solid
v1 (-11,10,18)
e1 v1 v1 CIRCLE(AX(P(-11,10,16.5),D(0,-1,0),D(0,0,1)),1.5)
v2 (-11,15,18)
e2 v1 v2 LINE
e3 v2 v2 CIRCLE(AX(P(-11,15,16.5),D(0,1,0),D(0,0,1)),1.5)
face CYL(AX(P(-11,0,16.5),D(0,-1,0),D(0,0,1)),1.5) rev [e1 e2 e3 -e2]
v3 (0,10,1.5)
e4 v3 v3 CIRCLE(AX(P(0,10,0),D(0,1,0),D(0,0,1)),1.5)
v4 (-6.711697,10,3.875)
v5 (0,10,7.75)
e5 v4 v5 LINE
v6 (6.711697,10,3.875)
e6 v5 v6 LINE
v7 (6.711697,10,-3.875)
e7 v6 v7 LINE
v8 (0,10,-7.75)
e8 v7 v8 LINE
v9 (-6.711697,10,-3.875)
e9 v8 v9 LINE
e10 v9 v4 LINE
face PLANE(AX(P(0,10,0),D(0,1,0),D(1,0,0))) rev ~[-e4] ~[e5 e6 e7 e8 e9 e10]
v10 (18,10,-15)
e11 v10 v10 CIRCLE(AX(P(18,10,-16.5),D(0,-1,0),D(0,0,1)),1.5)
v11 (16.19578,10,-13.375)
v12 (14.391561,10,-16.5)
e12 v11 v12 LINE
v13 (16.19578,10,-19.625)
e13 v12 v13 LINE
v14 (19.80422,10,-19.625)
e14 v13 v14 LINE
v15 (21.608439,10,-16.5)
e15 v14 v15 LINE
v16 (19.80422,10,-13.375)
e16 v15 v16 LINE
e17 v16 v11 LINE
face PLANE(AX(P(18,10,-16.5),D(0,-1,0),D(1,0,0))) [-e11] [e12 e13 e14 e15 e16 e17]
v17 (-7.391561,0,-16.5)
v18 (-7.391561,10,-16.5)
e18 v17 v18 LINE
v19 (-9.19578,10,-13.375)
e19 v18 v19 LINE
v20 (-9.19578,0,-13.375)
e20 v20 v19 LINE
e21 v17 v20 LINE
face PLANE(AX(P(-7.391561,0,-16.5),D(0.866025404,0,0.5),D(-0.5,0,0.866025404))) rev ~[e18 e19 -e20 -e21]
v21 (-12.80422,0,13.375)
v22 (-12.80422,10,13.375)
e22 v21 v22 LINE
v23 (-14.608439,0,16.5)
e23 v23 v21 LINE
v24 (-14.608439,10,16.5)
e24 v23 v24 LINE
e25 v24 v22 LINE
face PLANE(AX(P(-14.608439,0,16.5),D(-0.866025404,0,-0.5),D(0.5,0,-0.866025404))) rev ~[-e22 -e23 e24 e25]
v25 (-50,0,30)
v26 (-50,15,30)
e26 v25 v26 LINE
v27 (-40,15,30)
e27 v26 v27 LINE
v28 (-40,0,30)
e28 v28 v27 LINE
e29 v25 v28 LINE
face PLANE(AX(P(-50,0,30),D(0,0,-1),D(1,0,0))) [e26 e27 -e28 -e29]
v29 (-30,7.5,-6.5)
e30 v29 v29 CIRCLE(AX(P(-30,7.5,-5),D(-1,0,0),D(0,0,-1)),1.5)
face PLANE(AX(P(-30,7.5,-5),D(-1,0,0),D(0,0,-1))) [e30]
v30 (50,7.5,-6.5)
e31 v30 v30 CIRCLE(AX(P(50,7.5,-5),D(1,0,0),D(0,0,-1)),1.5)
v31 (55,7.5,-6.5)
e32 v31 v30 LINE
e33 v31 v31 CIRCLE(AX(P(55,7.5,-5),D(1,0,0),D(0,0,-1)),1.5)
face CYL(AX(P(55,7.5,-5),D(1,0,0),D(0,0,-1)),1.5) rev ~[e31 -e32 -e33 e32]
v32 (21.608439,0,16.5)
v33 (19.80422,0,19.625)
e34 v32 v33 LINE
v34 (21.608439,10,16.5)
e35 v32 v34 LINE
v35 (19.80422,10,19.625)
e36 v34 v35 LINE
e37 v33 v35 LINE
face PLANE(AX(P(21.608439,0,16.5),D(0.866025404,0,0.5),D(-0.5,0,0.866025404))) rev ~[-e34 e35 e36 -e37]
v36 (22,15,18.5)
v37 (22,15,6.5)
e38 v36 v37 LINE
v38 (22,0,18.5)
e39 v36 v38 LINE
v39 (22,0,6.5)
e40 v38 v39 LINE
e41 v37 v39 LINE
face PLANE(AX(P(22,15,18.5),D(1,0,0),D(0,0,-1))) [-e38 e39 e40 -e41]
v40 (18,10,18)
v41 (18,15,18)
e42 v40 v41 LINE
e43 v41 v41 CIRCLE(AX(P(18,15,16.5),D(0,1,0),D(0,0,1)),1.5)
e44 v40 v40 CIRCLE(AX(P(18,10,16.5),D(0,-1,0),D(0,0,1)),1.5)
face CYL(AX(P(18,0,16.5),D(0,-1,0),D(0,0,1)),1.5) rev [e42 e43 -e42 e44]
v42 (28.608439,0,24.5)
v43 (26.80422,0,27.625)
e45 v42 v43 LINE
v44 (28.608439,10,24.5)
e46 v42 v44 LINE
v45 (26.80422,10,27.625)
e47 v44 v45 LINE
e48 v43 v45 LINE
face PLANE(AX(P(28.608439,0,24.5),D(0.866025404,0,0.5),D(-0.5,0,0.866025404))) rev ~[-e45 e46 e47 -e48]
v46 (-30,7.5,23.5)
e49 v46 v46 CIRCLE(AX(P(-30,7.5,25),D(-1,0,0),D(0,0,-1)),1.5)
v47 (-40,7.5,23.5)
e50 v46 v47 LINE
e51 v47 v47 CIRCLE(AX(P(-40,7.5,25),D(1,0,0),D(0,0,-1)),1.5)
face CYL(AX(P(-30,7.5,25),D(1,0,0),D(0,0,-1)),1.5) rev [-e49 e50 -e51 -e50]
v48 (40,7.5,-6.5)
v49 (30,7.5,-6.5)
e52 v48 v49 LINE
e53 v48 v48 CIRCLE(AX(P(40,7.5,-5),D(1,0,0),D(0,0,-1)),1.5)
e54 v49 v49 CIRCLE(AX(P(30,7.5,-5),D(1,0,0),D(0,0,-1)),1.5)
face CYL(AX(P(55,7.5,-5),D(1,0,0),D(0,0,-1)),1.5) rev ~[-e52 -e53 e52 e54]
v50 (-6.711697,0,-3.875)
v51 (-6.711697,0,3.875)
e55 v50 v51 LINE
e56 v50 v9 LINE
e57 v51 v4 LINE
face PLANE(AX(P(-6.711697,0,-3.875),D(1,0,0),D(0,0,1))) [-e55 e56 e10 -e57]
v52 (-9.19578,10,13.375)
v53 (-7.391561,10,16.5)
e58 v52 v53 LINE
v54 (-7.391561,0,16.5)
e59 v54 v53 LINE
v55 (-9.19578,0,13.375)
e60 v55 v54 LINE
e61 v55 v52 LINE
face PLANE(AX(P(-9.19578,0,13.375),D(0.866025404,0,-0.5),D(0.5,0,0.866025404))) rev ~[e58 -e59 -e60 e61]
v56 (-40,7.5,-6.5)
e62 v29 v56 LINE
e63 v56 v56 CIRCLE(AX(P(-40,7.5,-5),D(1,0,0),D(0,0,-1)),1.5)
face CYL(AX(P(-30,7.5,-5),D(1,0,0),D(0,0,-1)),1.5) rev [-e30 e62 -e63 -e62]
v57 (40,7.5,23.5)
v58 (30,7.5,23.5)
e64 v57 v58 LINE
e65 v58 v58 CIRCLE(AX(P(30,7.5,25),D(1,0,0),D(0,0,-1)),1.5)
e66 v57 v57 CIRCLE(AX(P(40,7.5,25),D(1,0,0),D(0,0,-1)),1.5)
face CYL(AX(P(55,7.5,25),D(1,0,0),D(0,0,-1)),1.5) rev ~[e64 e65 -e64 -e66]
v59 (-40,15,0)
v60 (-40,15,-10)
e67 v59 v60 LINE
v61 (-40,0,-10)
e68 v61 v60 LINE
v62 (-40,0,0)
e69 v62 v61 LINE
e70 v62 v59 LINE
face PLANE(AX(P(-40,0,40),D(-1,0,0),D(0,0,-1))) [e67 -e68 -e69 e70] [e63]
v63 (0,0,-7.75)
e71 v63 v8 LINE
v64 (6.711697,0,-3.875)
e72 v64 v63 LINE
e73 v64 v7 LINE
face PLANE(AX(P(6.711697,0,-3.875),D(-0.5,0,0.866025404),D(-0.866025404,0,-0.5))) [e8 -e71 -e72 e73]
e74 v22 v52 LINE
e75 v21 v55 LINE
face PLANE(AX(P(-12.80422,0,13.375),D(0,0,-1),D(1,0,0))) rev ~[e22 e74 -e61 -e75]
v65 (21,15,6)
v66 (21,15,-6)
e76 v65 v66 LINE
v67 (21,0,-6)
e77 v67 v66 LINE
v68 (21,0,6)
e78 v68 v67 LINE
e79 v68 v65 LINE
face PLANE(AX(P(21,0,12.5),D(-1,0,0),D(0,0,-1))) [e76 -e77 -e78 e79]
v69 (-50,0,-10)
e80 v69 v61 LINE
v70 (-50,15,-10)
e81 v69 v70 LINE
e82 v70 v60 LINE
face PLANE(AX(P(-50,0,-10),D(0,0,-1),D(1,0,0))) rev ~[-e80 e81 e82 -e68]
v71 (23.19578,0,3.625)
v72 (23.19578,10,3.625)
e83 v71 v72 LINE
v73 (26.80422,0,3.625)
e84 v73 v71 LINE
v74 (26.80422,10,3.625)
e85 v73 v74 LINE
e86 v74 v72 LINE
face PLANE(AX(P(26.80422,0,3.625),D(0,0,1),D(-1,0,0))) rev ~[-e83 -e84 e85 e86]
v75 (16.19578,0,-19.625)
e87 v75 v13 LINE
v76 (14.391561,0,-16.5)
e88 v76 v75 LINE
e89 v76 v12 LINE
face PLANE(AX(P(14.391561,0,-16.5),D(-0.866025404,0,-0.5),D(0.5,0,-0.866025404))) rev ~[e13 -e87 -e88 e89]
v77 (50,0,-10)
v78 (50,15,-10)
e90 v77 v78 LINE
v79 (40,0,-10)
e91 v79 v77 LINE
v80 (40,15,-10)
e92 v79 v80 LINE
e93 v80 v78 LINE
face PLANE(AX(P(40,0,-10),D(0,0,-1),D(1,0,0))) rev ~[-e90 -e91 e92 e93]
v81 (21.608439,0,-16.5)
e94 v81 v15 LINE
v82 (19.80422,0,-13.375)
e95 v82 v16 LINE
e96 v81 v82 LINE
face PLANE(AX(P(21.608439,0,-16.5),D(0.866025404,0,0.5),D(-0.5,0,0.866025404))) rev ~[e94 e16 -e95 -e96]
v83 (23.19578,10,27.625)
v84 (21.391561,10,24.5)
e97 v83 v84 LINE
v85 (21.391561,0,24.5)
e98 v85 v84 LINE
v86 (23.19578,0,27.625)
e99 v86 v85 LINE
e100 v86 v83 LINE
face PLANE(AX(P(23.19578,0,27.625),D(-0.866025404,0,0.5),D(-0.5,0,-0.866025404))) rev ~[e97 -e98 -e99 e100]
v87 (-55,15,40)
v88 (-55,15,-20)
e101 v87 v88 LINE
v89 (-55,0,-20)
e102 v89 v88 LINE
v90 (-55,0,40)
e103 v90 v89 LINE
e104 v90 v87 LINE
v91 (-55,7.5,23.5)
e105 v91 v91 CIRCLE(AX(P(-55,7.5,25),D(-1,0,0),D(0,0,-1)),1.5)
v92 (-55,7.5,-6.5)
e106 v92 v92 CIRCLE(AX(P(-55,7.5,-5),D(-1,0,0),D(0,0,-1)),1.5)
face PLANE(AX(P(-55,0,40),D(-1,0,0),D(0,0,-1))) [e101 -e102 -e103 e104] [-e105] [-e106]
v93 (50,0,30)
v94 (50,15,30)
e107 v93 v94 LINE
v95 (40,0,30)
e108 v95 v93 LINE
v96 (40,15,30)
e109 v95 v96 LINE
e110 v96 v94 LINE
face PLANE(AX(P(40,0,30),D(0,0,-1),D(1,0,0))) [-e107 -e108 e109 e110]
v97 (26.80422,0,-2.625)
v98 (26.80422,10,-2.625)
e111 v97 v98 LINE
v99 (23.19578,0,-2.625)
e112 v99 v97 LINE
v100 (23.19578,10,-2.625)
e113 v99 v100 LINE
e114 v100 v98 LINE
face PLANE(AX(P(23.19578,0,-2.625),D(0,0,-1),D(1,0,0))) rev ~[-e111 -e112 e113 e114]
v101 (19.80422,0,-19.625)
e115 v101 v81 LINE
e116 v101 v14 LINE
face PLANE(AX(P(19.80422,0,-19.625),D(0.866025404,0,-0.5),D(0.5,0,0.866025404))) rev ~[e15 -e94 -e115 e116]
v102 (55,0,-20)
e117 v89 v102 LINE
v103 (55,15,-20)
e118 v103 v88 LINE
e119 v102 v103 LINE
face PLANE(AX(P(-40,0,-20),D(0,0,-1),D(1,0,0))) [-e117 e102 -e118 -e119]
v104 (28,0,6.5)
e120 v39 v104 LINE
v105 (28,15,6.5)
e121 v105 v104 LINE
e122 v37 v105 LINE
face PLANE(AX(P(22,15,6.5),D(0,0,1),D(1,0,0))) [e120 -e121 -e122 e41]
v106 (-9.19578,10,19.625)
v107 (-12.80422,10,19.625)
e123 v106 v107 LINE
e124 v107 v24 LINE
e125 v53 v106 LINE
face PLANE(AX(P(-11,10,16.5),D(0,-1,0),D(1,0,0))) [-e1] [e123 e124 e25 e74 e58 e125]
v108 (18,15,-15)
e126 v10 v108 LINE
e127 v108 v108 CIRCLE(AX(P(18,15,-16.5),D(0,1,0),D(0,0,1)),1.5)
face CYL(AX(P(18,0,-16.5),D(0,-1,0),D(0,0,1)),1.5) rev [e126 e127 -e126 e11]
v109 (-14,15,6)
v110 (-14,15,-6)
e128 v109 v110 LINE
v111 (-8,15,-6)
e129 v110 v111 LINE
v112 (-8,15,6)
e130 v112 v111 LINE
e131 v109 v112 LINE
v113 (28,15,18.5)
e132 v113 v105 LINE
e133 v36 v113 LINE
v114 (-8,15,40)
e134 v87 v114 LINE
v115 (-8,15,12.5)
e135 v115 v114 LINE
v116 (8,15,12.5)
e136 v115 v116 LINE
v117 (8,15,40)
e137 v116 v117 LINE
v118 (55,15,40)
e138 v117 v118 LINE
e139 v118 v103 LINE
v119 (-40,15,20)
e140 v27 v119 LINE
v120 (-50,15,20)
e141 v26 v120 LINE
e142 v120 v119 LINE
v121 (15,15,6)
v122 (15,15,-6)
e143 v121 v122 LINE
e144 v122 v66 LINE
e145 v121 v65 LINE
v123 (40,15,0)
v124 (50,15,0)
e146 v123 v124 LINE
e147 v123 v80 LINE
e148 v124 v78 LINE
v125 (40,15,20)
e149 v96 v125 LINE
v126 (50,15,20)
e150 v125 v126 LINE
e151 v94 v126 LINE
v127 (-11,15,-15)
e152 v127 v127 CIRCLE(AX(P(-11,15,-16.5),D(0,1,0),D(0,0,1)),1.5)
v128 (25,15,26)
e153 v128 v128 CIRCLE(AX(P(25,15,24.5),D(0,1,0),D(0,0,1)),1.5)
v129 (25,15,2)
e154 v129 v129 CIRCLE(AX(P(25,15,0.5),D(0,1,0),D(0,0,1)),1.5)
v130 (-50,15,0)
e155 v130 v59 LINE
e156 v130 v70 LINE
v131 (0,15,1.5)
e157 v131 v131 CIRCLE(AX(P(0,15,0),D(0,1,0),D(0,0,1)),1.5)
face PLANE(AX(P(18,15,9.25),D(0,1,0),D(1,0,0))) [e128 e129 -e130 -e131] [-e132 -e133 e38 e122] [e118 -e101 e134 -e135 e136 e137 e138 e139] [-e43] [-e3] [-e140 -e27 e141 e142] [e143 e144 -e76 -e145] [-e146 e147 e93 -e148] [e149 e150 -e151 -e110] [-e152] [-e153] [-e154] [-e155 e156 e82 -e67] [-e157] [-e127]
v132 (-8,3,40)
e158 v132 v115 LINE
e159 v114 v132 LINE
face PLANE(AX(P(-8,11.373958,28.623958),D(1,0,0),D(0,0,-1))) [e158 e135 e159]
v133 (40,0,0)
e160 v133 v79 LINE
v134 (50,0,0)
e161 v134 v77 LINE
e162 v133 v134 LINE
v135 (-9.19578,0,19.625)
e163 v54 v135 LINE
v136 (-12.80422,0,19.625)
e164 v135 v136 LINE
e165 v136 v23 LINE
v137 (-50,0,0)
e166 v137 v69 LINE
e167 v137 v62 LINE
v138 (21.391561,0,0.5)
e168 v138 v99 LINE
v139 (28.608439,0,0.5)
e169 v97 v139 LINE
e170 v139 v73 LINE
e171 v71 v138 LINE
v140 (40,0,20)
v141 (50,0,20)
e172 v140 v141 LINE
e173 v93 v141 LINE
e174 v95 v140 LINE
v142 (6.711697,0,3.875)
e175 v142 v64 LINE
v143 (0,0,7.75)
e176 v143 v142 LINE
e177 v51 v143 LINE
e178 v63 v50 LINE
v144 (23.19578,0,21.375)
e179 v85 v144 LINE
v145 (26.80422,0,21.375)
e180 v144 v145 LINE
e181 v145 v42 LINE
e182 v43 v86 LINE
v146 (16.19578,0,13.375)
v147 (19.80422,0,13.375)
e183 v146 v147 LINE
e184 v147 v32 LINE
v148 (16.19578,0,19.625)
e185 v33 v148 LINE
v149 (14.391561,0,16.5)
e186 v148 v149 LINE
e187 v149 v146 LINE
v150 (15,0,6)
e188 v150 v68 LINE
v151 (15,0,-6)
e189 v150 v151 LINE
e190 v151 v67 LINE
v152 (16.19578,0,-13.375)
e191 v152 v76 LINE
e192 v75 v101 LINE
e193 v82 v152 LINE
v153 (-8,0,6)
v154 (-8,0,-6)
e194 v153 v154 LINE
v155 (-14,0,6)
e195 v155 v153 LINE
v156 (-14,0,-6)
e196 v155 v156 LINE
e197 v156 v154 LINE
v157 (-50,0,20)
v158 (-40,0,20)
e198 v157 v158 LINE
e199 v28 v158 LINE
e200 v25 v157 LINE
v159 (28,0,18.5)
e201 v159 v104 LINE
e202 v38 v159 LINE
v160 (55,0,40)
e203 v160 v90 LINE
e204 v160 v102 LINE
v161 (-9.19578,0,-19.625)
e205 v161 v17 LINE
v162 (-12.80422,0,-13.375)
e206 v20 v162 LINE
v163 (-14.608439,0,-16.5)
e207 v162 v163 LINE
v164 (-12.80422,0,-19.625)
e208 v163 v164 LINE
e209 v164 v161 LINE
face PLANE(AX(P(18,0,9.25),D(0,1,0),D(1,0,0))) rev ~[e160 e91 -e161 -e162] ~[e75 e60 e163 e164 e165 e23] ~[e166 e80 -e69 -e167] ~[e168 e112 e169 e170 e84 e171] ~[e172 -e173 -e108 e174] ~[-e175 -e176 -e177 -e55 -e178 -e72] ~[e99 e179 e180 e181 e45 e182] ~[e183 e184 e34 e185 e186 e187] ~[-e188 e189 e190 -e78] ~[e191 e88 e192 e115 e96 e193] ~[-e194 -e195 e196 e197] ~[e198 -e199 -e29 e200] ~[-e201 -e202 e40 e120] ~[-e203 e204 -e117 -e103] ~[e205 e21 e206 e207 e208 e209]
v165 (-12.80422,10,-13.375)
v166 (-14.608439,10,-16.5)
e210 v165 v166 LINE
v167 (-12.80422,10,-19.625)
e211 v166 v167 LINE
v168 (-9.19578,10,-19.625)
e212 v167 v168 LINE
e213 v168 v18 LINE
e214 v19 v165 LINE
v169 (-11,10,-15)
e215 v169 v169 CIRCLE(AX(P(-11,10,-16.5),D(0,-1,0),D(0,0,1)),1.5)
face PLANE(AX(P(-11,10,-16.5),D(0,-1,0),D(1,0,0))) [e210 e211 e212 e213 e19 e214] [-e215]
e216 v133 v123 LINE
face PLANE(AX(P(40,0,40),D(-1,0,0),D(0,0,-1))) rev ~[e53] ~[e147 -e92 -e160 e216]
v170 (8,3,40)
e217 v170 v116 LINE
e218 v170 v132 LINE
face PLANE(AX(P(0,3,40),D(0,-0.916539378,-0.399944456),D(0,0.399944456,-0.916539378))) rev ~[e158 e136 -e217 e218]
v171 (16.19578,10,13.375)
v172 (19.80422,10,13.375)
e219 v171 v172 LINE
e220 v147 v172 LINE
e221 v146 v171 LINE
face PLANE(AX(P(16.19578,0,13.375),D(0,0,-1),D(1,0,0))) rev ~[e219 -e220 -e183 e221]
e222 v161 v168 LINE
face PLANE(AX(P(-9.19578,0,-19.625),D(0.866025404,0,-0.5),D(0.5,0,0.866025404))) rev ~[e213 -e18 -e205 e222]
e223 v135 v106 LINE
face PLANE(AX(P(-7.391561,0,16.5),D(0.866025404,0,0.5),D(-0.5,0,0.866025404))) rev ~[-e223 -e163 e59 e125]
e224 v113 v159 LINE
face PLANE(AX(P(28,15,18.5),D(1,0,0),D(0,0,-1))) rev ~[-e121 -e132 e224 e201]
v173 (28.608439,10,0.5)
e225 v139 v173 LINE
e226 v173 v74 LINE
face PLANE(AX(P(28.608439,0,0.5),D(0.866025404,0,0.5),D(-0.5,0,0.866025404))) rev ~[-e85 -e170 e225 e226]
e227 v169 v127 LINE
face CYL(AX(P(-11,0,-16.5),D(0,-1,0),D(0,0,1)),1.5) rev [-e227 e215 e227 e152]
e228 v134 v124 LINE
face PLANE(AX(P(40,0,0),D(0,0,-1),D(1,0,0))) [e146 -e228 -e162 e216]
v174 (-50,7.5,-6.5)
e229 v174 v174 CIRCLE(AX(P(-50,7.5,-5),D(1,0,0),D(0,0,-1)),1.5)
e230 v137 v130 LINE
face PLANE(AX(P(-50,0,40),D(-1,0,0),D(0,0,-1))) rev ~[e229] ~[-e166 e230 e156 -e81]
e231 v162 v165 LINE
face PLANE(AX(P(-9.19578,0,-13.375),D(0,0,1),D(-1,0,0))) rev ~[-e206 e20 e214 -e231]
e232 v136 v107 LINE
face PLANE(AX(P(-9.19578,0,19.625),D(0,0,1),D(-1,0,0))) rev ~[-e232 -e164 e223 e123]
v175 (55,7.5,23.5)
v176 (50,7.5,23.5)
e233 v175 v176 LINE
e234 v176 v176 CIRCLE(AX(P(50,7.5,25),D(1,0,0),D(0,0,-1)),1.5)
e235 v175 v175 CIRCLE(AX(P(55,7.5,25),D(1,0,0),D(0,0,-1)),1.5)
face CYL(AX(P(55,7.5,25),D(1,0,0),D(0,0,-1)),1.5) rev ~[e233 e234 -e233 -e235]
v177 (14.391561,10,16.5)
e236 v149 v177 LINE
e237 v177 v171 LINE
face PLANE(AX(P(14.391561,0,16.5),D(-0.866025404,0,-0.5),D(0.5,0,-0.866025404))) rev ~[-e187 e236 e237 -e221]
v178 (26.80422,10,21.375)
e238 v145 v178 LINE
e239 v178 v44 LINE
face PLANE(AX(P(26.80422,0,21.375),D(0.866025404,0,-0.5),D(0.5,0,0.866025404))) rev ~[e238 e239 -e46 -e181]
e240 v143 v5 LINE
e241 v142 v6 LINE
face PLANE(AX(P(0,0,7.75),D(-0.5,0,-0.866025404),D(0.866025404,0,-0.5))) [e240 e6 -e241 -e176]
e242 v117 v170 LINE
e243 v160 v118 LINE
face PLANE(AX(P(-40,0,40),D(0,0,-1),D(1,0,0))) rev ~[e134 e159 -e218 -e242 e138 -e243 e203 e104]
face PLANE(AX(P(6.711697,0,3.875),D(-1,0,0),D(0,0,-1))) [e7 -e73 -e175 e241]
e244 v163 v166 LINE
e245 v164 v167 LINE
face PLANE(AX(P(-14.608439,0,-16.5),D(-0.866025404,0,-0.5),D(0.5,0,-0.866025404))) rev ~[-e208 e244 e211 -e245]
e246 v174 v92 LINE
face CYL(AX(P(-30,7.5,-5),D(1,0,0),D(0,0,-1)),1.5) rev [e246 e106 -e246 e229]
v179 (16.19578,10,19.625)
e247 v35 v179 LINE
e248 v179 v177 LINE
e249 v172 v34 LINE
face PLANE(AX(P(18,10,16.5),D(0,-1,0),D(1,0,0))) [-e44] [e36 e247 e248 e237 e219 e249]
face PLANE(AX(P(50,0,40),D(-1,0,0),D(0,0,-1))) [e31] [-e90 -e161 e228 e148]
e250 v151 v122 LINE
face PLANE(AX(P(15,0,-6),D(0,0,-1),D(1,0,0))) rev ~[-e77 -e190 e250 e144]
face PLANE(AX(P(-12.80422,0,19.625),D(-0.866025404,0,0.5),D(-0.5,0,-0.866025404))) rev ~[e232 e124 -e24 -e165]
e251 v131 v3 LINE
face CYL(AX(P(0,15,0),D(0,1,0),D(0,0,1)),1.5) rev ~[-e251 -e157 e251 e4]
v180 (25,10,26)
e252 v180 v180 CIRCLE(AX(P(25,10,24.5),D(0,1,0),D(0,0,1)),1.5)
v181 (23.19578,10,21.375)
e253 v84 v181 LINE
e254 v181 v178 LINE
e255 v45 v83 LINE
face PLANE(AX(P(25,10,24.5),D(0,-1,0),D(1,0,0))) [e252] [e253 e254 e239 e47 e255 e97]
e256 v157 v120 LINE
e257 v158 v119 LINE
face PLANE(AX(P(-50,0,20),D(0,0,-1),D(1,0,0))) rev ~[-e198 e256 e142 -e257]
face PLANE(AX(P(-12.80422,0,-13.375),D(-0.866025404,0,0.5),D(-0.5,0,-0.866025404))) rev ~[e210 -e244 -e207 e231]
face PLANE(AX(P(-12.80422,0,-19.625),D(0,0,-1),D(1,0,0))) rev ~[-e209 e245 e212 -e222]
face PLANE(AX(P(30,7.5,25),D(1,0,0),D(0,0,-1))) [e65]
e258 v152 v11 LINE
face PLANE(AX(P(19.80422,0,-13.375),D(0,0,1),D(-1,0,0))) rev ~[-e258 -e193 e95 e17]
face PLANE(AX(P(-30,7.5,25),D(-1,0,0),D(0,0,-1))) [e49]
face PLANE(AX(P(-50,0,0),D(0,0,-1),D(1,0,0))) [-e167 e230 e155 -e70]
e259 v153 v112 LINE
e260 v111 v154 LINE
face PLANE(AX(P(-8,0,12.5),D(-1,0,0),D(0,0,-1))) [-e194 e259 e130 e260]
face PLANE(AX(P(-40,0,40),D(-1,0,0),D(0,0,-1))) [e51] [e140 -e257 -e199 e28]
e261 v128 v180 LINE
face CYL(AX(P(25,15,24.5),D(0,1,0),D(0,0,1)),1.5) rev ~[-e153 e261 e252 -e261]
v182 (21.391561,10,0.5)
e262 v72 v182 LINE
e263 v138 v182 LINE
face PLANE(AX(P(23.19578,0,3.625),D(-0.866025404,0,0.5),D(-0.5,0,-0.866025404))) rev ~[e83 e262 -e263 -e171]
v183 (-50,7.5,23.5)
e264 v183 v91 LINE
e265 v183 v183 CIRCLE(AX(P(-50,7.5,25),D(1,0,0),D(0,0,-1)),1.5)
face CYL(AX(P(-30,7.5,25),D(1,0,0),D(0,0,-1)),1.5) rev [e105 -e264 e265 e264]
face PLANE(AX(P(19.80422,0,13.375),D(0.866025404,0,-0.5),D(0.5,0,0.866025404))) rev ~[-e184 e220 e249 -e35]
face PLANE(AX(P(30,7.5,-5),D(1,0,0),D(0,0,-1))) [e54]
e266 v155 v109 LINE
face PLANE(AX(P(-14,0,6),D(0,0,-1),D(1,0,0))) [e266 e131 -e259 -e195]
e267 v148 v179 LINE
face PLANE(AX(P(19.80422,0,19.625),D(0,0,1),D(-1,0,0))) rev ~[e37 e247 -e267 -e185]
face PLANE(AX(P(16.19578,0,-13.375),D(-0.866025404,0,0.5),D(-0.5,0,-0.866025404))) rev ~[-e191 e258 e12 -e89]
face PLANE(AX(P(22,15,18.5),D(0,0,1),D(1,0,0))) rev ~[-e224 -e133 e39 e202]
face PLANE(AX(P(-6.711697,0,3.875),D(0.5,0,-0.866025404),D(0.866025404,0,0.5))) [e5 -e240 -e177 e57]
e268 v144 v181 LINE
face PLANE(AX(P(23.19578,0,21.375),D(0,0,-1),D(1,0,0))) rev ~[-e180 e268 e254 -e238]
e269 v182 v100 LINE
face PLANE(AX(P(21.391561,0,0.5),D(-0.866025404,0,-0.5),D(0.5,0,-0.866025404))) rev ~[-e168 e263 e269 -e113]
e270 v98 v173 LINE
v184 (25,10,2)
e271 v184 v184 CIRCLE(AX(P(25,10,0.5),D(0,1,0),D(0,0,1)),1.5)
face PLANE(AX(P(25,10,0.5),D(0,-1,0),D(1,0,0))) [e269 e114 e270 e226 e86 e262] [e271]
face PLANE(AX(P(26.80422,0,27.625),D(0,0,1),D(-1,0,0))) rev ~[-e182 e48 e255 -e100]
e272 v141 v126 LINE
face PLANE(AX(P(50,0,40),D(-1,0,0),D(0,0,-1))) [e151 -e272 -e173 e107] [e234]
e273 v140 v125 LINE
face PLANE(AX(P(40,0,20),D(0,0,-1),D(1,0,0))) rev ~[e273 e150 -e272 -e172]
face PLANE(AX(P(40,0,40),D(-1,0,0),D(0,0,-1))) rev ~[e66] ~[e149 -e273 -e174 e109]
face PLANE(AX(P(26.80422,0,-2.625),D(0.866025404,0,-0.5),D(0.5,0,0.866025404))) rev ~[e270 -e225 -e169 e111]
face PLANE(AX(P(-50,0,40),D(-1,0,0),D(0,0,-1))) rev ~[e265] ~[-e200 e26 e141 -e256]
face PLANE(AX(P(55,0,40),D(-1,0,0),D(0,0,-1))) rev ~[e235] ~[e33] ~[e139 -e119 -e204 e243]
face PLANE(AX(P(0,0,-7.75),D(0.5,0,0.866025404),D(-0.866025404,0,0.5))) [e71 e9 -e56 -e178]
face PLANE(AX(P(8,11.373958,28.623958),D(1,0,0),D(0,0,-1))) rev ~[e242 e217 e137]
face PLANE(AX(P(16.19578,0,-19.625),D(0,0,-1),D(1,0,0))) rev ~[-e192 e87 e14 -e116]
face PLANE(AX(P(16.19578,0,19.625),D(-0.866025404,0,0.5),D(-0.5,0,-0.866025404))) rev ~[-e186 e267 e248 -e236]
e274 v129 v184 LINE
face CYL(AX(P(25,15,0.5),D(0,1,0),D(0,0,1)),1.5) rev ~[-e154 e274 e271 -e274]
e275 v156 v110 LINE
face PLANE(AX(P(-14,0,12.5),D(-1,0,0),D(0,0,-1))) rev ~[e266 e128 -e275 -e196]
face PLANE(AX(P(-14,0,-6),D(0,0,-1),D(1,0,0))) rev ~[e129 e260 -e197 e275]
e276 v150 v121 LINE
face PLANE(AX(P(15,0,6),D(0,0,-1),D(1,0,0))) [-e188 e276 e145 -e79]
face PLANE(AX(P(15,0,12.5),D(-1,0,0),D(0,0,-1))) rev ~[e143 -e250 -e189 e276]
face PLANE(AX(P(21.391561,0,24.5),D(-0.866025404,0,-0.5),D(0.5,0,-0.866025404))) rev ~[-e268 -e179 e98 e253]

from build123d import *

# Parameters (mm, degrees)
CROQUIS1_W              = 80
CROQUIS1_H              = 60
CROQUIS1_R              = 1.5
CROQUIS1_W_2            = 6
CROQUIS1_H_2            = 25
CROQUIS1_W_3            = 10
CROQUIS1_H_3            = 20
CROQUIS1_H_4            = 10
CROQUIS1_W_4            = 5
CROQUIS1_H_5            = 6.5
SALIENTE_EXTRUIR1_DEPTH = 15
CORTAR_EXTRUIR1_DEPTH   = 10
CROQUIS3_R              = 1.5
CORTAR_EXTRUIR2_DEPTH   = 25
CORTAR_EXTRUIR3_START   = -25
CROQUIS6_R              = 1.5
CORTAR_EXTRUIR3_DEPTH   = 25
CROQUIS8_W              = 16
CROQUIS8_H              = 17.848141148
CROQUIS8_R              = 1.5
SALIENTE_EXTRUIR2_DEPTH = 5
CORTAR_EXTRUIR4_START   = -55
CORTAR_EXTRUIR4_DEPTH   = 8
CROQUIS10_R             = 1.5
CROQUIS10_W             = 6
CROQUIS10_H             = 12
CORTAR_EXTRUIR5_DEPTH   = 16
CORTAR_EXTRUIR6_DEPTH   = 10


with BuildPart() as part:
    # Croquis1 → Saliente-Extruir1 (new body)
    # profile 1 of 13: a face of its own
    with BuildSketch(Plane(origin=(0, 0, 0), x_dir=(1, 0, 0), z_dir=(0, 1, 0))):
        with Locations((0, -10)):
            Rectangle(CROQUIS1_W, CROQUIS1_H)
        with Locations(Location((18, -16.5, 0), (0, 0, 270))):
            Circle(CROQUIS1_R, mode=Mode.SUBTRACT)
        with Locations(Location((-11, -16.5, 0), (0, 0, 270))):
            Circle(CROQUIS1_R, mode=Mode.SUBTRACT)
        with Locations(Location((18, 16.5, 0), (0, 0, 270))):
            Circle(CROQUIS1_R, mode=Mode.SUBTRACT)
        with Locations(Location((-11, 16.5, 0), (0, 0, 270))):
            Circle(CROQUIS1_R, mode=Mode.SUBTRACT)
        with Locations((18, 0)):
            Rectangle(CROQUIS1_W_2, CROQUIS1_H_2, mode=Mode.SUBTRACT)
        Polygon((6.711696879, 3.875), (0, 7.75), (-6.711696879, 3.875), (-6.711696879, -3.875), (0, -7.75), (6.711696879, -3.875), align=None, mode=Mode.SUBTRACT)
        with Locations((-11, 0)):
            Rectangle(CROQUIS1_W_2, CROQUIS1_H_2, mode=Mode.SUBTRACT)
    # profile 2 of 13: a face of its own
    with BuildSketch(Plane(origin=(0, 0, 0), x_dir=(1, 0, 0), z_dir=(0, 1, 0))):
        with Locations((-45, -10)):
            Rectangle(CROQUIS1_W_3, CROQUIS1_H_3)
    # profile 3 of 13: a face of its own
    with BuildSketch(Plane(origin=(0, 0, 0), x_dir=(1, 0, 0), z_dir=(0, 1, 0))):
        with Locations((-45, -35)):
            Rectangle(CROQUIS1_W_3, CROQUIS1_H_4)
    # profile 4 of 13: a face of its own
    with BuildSketch(Plane(origin=(0, 0, 0), x_dir=(1, 0, 0), z_dir=(0, 1, 0))):
        with Locations((-52.5, -10)):
            Rectangle(CROQUIS1_W_4, CROQUIS1_H)
    # profile 5 of 13: a face of its own
    with BuildSketch(Plane(origin=(0, 0, 0), x_dir=(1, 0, 0), z_dir=(0, 1, 0))):
        with Locations((-45, 15)):
            Rectangle(CROQUIS1_W_3, CROQUIS1_H_4)
    # profile 6 of 13: a face of its own
    with BuildSketch(Plane(origin=(0, 0, 0), x_dir=(1, 0, 0), z_dir=(0, 1, 0))):
        with Locations((45, 15)):
            Rectangle(CROQUIS1_W_3, CROQUIS1_H_4)
    # profile 7 of 13: a face of its own
    with BuildSketch(Plane(origin=(0, 0, 0), x_dir=(1, 0, 0), z_dir=(0, 1, 0))):
        with Locations((52.5, -10)):
            Rectangle(CROQUIS1_W_4, CROQUIS1_H)
    # profile 8 of 13: a face of its own
    with BuildSketch(Plane(origin=(0, 0, 0), x_dir=(1, 0, 0), z_dir=(0, 1, 0))):
        with Locations((45, -10)):
            Rectangle(CROQUIS1_W_3, CROQUIS1_H_3)
    # profile 9 of 13: a face of its own
    with BuildSketch(Plane(origin=(0, 0, 0), x_dir=(1, 0, 0), z_dir=(0, 1, 0))):
        with Locations((45, -35)):
            Rectangle(CROQUIS1_W_3, CROQUIS1_H_4)
    # profile 10 of 13: a face of its own
    with BuildSketch(Plane(origin=(0, 0, 0), x_dir=(1, 0, 0), z_dir=(0, 1, 0))):
        with Locations((-11, 9.25)):
            Rectangle(CROQUIS1_W_2, CROQUIS1_H_5)
    # profile 11 of 13: a face of its own
    with BuildSketch(Plane(origin=(0, 0, 0), x_dir=(1, 0, 0), z_dir=(0, 1, 0))):
        with Locations((-11, -9.25)):
            Rectangle(CROQUIS1_W_2, CROQUIS1_H_5)
    # profile 12 of 13: a face of its own
    with BuildSketch(Plane(origin=(0, 0, 0), x_dir=(1, 0, 0), z_dir=(0, 1, 0))):
        with Locations((18, 9.25)):
            Rectangle(CROQUIS1_W_2, CROQUIS1_H_5)
    # profile 13 of 13: a face of its own
    with BuildSketch(Plane(origin=(0, 0, 0), x_dir=(1, 0, 0), z_dir=(0, 1, 0))):
        with Locations((18, -9.25)):
            Rectangle(CROQUIS1_W_2, CROQUIS1_H_5)
    extrude(amount=SALIENTE_EXTRUIR1_DEPTH)

    # Croquis2 → Cortar-Extruir1 (cut)
    with BuildSketch(Plane.XZ):
        Polygon((-7.391560818, 16.5), (-9.195780409, 19.625), (-12.804219591, 19.625), (-14.608439182, 16.5), (-12.804219591, 13.375), (-9.195780409, 13.375), align=None)
        Polygon((21.608439182, 16.5), (19.804219591, 19.625), (16.195780409, 19.625), (14.391560818, 16.5), (16.195780409, 13.375), (19.804219591, 13.375), align=None)
        Polygon((-7.391560818, -16.5), (-9.195780409, -13.375), (-12.804219591, -13.375), (-14.608439182, -16.5), (-12.804219591, -19.625), (-9.195780409, -19.625), align=None)
        Polygon((21.608439182, -16.5), (19.804219591, -13.375), (16.195780409, -13.375), (14.391560818, -16.5), (16.195780409, -19.625), (19.804219591, -19.625), align=None)
    extrude(amount=-CORTAR_EXTRUIR1_DEPTH, mode=Mode.SUBTRACT)

    # Croquis3 → Cortar-Extruir2 (cut)
    with BuildSketch(Plane(origin=(55, 0, 0), x_dir=(0, 0, -1), z_dir=(1, 0, 0))):
        with Locations((-25, 7.5)):
            Circle(CROQUIS3_R)
        with Locations((5, 7.5)):
            Circle(CROQUIS3_R)
    extrude(amount=-CORTAR_EXTRUIR2_DEPTH, mode=Mode.SUBTRACT)

    # Croquis6 → Cortar-Extruir3 (cut)
    with BuildSketch(Plane.ZY.offset(55).offset(CORTAR_EXTRUIR3_START)):
        with Locations(Location((-5, 7.5, 0), (0, 0, 180))):
            Circle(CROQUIS6_R)
        with Locations(Location((25, 7.5, 0), (0, 0, 180))):
            Circle(CROQUIS6_R)
    extrude(amount=CORTAR_EXTRUIR3_DEPTH, mode=Mode.SUBTRACT)

    # Croquis8 → Saliente-Extruir2 (add)
    with BuildSketch(Plane(origin=(0, 15, 0), x_dir=(1, 0, 0), z_dir=(0, 1, 0))):
        Rectangle(CROQUIS8_W, CROQUIS8_H)
        with Locations(Location((0, 0, 0), (0, 0, 270))):
            Circle(CROQUIS8_R, mode=Mode.SUBTRACT)
    extrude(amount=-SALIENTE_EXTRUIR2_DEPTH)

    # Croquis9 → Cortar-Extruir4 (cut, symmetric)
    with BuildSketch(Plane(origin=(55, 0, 0), x_dir=(0, 0, -1), z_dir=(1, 0, 0)).offset(CORTAR_EXTRUIR4_START)):
        Polygon((-40, 3), (-12.5, 15), (-40, 15), align=None)
    extrude(amount=CORTAR_EXTRUIR4_DEPTH, both=True, mode=Mode.SUBTRACT)

    # Croquis10 → Cortar-Extruir5 (cut)
    with BuildSketch(Plane(origin=(0, 15, 0), x_dir=(1, 0, 0), z_dir=(0, 1, 0))):
        with Locations(Location((25, -0.5, 0), (0, 0, 270))):
            Circle(CROQUIS10_R)
        with Locations(Location((25, -24.5, 0), (0, 0, 270))):
            Circle(CROQUIS10_R)
        with Locations((25, -12.5)):
            Rectangle(CROQUIS10_W, CROQUIS10_H)
    extrude(amount=-CORTAR_EXTRUIR5_DEPTH, mode=Mode.SUBTRACT)

    # Croquis11 → Cortar-Extruir6 (cut)
    with BuildSketch(Plane.XZ):
        Polygon((28.608439182, 24.5), (26.804219591, 27.625), (23.195780409, 27.625), (21.391560818, 24.5), (23.195780409, 21.375), (26.804219591, 21.375), align=None)
        Polygon((28.608439182, 0.5), (26.804219591, 3.625), (23.195780409, 3.625), (21.391560818, 0.5), (23.195780409, -2.625), (26.804219591, -2.625), align=None)
    extrude(amount=-CORTAR_EXTRUIR6_DEPTH, mode=Mode.SUBTRACT)


solid = part.part
